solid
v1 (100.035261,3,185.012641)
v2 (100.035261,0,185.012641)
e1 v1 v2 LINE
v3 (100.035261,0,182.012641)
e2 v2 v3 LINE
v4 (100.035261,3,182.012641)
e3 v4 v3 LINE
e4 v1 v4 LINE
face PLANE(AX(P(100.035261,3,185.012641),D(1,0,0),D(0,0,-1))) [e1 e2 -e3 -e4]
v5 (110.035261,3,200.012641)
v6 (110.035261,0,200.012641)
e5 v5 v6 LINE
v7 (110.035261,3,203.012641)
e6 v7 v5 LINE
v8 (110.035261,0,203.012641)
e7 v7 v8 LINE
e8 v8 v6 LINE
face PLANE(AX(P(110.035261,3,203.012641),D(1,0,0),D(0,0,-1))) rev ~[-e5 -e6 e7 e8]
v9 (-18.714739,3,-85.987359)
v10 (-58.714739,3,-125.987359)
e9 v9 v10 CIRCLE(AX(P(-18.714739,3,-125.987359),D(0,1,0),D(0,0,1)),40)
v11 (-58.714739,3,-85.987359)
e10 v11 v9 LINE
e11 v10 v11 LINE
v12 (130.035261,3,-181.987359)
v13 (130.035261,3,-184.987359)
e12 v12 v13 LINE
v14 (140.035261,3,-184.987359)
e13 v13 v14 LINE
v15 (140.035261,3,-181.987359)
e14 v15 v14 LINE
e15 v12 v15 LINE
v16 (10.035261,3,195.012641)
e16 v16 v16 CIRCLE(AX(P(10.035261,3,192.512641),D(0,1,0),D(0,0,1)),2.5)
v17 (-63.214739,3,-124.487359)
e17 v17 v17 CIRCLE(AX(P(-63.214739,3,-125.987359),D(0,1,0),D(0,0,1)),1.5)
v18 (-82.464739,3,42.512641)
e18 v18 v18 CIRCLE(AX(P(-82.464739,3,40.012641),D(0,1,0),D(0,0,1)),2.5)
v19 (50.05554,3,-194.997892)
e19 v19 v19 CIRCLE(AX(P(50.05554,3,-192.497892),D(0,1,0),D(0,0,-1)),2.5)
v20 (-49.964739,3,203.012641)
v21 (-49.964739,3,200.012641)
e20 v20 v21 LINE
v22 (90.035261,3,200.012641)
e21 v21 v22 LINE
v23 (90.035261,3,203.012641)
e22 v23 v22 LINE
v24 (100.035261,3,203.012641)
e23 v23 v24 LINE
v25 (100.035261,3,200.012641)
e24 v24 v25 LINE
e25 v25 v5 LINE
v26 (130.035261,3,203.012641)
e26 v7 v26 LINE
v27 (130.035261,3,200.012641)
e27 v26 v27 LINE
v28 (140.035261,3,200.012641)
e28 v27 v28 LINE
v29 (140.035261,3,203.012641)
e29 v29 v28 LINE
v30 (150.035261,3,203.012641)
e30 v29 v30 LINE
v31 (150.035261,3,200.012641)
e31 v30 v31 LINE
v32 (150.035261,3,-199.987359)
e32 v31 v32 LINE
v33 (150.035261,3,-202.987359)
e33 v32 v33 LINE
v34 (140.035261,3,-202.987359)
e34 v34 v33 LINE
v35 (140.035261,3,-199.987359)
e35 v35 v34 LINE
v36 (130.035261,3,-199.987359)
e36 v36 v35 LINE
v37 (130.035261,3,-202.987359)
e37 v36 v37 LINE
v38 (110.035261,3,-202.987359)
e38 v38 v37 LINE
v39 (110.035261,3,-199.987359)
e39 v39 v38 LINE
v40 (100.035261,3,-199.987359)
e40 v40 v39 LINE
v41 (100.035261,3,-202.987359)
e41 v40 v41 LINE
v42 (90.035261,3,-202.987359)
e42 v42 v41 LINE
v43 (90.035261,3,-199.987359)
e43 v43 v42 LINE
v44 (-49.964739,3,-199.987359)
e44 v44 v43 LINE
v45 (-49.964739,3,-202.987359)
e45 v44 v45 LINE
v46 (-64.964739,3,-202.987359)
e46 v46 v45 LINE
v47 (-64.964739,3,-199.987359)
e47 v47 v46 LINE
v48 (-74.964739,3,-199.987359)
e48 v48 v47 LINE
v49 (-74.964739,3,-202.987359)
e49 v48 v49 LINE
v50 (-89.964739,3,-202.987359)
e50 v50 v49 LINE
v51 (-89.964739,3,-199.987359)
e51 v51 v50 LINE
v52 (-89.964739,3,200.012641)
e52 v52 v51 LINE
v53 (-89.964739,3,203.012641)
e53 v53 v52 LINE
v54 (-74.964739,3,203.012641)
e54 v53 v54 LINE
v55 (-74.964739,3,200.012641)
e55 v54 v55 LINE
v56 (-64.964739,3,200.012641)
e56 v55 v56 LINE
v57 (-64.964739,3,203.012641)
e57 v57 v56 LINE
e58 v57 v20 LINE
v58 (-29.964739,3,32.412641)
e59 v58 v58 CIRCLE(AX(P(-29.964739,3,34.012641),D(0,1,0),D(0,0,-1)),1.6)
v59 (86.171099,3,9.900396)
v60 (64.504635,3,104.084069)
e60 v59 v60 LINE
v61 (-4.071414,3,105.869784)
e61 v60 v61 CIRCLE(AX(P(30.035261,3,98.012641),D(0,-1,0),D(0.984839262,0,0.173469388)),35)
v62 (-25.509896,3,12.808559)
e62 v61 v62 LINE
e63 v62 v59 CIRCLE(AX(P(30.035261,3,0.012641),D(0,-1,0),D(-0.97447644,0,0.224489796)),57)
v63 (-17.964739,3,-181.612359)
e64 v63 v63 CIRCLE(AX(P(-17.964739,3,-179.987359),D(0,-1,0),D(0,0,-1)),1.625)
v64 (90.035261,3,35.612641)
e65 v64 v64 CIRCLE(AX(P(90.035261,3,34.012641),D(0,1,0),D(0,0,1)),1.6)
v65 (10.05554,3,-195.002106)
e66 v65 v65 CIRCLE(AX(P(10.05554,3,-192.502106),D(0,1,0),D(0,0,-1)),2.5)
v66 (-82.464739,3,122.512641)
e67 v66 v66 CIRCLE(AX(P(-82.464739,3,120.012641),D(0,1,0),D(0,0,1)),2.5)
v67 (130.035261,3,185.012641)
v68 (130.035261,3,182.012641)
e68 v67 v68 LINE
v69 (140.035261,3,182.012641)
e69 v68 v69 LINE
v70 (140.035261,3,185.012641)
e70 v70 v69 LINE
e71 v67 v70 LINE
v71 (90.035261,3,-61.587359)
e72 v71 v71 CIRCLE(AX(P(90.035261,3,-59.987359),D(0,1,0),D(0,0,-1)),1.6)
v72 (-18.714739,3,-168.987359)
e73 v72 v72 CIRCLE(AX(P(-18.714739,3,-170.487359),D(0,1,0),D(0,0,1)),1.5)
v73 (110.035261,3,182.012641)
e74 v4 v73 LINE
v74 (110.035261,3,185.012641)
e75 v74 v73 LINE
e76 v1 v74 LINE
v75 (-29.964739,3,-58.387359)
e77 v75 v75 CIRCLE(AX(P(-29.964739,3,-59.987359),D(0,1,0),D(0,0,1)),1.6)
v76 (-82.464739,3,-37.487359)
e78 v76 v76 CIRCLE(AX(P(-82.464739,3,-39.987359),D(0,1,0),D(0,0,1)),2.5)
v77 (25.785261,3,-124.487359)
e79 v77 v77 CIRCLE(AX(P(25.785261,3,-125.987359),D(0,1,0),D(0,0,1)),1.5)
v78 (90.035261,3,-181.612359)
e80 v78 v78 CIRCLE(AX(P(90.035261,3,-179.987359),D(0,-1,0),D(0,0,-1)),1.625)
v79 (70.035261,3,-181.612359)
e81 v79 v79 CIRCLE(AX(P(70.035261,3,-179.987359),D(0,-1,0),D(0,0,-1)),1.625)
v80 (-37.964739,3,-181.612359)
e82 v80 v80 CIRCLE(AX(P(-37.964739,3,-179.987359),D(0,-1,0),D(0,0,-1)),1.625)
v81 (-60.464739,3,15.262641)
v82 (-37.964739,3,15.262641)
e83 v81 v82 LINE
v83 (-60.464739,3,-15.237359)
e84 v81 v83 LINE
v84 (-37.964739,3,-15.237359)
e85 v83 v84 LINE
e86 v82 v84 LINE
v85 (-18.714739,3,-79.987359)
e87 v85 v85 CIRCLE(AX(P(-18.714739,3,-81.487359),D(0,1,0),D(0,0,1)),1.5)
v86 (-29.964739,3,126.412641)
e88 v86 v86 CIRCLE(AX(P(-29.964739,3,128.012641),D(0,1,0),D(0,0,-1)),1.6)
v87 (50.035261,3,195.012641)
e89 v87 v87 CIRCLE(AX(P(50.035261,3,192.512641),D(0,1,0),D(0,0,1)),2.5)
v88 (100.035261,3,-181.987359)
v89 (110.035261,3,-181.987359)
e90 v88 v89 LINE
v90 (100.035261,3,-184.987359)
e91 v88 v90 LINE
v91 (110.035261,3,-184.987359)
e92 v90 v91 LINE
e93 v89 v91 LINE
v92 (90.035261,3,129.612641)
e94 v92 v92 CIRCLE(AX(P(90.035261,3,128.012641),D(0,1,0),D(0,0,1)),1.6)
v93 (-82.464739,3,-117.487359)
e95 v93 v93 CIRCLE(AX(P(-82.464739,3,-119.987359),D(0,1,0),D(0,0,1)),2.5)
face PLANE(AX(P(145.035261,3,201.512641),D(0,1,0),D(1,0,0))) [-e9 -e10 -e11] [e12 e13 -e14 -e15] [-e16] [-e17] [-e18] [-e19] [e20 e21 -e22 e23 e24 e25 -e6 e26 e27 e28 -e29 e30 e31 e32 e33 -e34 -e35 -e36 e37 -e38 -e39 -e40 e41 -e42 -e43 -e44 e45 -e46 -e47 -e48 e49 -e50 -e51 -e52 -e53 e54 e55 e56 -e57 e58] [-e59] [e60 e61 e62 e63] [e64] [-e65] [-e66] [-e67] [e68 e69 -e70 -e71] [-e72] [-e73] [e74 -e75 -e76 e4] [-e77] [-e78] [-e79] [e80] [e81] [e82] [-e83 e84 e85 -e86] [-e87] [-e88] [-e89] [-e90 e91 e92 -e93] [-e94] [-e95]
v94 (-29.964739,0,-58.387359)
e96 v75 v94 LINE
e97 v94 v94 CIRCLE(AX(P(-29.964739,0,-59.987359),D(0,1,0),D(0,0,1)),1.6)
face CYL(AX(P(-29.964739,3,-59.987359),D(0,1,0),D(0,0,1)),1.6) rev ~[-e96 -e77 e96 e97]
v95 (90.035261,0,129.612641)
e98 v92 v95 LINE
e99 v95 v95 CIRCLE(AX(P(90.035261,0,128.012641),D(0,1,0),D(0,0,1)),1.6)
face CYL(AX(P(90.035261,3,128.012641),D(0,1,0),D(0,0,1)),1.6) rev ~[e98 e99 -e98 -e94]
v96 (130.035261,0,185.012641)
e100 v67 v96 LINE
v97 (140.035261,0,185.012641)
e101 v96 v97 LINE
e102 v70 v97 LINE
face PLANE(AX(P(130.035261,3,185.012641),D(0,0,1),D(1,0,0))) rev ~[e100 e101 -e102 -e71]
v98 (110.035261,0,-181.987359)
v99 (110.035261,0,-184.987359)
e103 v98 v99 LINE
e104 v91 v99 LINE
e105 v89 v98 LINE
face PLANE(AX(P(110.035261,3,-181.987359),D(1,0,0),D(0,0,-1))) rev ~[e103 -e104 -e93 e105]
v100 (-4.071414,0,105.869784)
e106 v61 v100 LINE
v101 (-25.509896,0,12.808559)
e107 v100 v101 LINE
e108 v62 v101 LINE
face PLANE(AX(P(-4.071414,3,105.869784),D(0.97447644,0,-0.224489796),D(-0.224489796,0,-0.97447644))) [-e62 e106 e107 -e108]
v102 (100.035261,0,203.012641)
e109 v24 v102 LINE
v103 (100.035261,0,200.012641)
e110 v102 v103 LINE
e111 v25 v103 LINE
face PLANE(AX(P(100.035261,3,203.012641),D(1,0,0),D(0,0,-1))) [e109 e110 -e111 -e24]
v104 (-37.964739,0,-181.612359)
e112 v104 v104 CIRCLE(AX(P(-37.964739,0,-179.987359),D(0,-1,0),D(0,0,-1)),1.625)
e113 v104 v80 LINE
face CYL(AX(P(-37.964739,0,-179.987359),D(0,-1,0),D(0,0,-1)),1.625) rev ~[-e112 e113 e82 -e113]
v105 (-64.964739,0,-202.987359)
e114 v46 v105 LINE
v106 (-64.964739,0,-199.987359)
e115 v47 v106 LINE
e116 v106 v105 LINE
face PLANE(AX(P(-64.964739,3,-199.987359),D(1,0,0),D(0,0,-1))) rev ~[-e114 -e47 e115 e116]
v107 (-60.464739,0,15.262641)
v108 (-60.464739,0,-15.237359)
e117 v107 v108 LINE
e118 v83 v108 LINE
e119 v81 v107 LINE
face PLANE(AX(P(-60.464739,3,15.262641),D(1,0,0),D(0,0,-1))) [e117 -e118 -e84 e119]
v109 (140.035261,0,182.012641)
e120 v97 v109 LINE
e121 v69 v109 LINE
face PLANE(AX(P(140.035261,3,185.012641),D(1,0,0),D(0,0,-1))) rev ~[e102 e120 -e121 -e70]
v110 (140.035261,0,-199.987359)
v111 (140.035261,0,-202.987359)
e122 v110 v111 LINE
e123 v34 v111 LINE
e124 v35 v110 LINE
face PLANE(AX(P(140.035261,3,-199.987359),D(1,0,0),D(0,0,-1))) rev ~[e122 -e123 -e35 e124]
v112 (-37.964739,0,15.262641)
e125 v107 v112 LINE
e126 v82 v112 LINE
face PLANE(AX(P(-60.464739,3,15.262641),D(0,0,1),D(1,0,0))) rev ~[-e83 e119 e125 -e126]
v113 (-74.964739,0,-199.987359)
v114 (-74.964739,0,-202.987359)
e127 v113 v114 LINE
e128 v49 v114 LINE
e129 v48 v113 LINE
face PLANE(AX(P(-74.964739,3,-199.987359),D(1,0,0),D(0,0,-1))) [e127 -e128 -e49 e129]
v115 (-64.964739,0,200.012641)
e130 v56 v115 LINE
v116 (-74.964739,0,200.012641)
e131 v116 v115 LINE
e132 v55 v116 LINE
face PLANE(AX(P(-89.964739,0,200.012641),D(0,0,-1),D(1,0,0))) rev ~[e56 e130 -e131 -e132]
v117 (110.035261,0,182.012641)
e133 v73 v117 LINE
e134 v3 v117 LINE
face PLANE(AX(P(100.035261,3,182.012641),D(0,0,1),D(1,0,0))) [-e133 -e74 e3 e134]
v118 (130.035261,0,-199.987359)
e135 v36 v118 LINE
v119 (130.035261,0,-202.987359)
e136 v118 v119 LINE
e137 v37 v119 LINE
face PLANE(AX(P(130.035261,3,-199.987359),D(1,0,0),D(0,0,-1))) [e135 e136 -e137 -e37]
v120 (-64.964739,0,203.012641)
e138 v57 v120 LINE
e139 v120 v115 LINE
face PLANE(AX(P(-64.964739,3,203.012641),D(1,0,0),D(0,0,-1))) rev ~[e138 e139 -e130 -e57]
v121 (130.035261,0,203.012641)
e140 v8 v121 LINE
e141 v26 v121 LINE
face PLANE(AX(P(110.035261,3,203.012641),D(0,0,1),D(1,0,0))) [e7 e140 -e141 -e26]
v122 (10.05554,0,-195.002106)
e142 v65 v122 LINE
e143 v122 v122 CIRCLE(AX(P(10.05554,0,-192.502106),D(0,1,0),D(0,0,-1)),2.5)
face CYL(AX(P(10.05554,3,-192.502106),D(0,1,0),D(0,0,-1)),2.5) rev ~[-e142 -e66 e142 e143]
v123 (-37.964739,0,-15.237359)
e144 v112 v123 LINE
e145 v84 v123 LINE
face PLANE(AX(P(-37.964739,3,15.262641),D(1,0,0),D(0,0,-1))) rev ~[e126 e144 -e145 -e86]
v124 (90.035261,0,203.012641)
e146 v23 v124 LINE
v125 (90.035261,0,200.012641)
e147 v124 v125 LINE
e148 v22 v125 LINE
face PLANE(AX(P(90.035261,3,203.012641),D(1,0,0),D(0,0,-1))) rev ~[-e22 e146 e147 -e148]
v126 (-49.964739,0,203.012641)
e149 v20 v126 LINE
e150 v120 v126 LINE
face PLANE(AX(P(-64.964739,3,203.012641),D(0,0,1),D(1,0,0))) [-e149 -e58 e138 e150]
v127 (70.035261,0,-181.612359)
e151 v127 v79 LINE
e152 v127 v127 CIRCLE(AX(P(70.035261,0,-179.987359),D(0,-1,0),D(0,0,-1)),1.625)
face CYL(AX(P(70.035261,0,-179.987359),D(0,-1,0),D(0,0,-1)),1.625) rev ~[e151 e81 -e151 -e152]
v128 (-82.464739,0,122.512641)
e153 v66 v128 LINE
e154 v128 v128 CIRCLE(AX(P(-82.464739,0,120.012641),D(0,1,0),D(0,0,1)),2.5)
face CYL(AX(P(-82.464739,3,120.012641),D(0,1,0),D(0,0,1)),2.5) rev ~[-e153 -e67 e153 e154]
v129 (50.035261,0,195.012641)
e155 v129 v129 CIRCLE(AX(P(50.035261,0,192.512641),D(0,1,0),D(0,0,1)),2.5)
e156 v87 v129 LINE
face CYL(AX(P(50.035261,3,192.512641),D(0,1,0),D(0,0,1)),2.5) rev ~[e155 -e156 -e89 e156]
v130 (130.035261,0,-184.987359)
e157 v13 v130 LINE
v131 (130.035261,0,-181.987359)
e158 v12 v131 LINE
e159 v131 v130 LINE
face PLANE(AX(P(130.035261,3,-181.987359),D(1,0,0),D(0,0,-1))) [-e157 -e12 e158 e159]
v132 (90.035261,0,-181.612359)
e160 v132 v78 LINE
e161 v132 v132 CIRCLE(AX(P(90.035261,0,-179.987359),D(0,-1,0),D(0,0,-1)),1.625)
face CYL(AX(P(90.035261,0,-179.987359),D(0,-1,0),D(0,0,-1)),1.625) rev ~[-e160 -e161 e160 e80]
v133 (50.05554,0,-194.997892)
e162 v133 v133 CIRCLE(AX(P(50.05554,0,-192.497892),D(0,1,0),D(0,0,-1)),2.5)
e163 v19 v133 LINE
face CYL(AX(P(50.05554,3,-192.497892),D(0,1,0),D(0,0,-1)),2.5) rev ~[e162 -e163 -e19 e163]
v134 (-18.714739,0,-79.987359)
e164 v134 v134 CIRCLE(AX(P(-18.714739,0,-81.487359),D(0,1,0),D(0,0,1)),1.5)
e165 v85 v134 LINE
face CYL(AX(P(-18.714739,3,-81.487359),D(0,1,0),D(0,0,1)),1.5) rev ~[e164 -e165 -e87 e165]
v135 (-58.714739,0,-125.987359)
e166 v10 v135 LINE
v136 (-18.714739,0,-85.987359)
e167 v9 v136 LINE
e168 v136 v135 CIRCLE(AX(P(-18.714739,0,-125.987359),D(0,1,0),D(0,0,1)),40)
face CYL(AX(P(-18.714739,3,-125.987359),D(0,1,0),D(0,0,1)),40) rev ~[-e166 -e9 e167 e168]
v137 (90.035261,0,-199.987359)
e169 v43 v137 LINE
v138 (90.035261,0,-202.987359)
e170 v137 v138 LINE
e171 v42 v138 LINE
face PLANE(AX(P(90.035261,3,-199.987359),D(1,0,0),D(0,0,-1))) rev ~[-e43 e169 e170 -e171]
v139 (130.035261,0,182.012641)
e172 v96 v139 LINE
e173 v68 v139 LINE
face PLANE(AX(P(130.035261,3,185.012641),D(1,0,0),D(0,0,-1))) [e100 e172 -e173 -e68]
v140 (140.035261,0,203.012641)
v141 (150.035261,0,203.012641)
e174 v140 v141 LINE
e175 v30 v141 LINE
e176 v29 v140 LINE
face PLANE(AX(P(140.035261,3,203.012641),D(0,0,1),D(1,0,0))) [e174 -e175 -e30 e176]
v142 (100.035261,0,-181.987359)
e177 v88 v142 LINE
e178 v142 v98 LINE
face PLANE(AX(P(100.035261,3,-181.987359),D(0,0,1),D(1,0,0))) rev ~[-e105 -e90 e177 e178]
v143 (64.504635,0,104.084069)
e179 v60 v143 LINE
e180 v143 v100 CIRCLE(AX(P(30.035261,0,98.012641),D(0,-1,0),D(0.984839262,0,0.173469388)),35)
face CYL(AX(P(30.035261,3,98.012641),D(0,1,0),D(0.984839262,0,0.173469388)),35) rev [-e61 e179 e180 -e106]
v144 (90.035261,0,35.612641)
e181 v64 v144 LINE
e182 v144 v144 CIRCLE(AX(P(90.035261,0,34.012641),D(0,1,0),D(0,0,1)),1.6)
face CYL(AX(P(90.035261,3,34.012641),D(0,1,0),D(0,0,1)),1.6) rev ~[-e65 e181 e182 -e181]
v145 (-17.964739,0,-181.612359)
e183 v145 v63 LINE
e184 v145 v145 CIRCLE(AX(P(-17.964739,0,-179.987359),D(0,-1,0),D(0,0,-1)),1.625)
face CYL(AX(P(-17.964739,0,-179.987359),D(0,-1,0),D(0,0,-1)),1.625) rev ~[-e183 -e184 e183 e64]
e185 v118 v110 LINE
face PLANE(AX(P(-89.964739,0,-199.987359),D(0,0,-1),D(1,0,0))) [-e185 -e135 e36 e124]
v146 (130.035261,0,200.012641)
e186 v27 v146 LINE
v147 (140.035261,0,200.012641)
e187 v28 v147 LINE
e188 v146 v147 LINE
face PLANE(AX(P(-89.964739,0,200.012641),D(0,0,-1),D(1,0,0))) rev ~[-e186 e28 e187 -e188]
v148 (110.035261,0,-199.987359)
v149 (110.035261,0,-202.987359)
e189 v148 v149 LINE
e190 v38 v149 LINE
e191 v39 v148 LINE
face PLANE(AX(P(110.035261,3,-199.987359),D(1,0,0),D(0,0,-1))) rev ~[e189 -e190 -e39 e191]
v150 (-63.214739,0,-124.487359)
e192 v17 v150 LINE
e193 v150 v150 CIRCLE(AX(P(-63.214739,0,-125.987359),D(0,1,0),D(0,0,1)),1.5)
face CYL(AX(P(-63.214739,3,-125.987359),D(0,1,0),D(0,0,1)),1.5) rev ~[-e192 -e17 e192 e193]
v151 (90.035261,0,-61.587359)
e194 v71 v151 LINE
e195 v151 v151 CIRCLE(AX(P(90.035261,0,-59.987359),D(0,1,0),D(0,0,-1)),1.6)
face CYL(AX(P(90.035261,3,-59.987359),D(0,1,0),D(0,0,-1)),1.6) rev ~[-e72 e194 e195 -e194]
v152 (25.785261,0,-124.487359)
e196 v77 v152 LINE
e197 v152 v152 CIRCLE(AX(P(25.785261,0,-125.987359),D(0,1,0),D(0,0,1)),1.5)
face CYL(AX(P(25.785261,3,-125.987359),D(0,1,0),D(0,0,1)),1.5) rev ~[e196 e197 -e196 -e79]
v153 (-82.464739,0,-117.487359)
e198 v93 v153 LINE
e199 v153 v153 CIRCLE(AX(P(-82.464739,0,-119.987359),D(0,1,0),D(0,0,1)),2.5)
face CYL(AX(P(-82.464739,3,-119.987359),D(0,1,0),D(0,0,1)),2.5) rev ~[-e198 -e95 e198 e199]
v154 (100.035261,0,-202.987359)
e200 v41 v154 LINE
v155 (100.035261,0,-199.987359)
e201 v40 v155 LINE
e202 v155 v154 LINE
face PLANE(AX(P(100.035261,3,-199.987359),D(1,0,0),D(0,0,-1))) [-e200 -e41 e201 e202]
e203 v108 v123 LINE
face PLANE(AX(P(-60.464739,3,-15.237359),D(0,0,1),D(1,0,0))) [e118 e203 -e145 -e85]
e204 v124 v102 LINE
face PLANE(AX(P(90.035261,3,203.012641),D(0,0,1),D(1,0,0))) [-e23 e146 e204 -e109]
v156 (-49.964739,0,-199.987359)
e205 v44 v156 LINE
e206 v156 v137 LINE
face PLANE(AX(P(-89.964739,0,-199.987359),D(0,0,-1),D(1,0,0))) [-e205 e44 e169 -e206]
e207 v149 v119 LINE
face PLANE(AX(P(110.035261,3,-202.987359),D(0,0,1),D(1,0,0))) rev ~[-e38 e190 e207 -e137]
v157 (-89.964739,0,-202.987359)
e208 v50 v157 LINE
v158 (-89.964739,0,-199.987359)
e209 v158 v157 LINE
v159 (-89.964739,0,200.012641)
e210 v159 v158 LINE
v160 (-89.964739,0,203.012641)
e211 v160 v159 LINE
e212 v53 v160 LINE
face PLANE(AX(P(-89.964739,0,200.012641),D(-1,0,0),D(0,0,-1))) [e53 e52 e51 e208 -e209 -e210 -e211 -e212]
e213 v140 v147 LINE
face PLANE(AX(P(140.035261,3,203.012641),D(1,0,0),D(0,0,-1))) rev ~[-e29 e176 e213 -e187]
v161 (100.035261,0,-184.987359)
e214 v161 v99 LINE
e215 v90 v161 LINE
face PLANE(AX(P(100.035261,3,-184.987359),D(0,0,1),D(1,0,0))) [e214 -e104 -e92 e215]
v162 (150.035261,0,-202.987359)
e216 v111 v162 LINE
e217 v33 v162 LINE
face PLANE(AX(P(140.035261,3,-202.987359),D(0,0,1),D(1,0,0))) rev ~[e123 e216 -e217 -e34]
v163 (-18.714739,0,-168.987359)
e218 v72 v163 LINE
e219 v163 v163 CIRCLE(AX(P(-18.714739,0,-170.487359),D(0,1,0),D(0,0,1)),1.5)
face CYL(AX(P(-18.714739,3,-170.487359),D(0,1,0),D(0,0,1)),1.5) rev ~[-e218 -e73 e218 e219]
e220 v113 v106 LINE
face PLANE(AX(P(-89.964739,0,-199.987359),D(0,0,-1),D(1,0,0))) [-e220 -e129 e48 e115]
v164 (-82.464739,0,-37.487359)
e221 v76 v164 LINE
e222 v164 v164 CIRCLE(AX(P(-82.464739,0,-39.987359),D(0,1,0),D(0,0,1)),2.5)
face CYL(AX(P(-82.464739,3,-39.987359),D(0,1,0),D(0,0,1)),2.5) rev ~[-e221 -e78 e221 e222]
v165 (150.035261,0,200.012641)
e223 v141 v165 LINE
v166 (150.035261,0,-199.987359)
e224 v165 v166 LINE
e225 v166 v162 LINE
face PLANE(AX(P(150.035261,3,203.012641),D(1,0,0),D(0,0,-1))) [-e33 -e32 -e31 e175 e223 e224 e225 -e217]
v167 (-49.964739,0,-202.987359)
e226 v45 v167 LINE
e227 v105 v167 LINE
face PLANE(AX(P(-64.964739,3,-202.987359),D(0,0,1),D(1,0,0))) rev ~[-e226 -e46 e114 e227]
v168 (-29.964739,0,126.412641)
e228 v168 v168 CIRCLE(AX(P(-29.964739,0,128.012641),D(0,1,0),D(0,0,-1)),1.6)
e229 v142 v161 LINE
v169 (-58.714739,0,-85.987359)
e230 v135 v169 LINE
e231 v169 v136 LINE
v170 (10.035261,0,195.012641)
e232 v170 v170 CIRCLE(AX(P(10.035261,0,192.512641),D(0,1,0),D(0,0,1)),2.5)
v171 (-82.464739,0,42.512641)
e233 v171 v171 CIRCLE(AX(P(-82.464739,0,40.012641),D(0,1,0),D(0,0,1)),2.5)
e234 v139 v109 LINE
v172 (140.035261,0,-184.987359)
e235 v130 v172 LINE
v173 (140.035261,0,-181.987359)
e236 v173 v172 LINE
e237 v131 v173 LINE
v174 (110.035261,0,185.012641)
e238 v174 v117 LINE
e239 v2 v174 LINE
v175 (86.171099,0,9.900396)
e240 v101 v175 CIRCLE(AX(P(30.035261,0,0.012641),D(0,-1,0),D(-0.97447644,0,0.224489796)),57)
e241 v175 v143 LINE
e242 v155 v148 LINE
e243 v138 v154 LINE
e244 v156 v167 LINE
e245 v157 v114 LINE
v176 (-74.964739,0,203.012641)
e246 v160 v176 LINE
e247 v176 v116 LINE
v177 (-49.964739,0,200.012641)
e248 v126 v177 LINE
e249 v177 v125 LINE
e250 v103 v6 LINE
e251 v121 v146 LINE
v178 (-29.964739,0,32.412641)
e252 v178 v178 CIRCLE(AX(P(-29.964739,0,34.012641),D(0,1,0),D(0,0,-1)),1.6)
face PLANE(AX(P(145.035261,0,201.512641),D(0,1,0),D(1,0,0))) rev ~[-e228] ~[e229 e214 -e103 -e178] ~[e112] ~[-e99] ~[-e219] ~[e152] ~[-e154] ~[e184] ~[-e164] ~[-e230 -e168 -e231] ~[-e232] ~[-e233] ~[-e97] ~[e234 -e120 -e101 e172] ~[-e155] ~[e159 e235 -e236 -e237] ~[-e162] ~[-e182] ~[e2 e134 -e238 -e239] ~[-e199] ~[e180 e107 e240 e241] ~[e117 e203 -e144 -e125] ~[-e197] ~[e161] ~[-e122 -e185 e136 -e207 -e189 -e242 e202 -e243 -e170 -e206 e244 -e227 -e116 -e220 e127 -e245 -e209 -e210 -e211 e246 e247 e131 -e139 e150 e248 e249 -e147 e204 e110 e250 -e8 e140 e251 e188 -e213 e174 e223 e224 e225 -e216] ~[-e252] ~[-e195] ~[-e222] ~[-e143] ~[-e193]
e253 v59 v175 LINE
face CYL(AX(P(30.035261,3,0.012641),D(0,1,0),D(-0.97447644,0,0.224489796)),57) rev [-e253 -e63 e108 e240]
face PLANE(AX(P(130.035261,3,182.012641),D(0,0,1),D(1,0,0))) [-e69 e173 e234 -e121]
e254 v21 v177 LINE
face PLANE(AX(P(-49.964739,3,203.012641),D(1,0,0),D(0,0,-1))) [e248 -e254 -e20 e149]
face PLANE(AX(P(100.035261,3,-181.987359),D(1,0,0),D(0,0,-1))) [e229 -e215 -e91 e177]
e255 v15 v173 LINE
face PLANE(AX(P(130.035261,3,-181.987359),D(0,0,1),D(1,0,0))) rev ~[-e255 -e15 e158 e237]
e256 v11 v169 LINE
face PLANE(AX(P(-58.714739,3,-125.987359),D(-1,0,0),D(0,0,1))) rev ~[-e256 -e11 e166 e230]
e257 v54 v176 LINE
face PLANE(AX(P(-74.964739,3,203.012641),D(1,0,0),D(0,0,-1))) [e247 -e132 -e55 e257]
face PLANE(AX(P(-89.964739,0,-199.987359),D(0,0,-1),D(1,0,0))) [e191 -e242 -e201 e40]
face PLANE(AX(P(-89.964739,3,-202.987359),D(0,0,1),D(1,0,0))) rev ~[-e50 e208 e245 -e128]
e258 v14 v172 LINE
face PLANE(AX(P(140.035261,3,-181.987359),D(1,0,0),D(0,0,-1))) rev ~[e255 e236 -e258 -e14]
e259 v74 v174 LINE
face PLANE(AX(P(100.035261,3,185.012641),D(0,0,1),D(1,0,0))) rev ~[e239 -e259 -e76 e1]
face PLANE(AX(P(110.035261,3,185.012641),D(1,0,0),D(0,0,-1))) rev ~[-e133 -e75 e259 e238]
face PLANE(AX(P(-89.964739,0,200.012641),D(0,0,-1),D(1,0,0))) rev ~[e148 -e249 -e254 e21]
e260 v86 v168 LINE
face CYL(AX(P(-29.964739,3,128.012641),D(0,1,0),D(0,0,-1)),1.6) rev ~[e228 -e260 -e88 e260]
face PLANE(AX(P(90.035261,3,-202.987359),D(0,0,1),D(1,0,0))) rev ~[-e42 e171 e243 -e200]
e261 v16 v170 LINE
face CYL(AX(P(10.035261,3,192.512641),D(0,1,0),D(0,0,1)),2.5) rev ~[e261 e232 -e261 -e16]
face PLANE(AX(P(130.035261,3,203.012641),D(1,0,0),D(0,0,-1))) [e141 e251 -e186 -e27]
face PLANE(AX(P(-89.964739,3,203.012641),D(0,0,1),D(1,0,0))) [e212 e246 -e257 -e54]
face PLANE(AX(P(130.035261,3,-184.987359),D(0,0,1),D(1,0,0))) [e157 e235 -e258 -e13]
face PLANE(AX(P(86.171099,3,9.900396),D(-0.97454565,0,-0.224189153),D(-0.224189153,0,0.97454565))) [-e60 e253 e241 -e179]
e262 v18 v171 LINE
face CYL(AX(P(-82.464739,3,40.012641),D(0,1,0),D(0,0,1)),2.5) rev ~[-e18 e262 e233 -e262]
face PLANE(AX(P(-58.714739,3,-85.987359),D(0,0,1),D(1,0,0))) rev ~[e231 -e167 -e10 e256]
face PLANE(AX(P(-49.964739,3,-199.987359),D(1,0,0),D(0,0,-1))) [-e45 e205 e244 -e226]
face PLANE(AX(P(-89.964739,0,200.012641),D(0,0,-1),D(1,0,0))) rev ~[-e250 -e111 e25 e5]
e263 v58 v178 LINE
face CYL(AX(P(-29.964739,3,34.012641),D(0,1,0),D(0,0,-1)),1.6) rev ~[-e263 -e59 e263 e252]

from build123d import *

# Parameters (mm, degrees)
SKETCH_1_W           = 240
SKETCH_1_H           = 400
EXTRUDE_1_DEPTH      = 3
SKETCH_9_W           = 10
SKETCH_9_H           = 3
SKETCH_9_W_2         = 20
SKETCH_9_W_3         = 15
EXTRUDE_2_DEPTH      = 3
SKETCH_13_W          = 10
SKETCH_13_H          = 3
CUT_EXTRUDE_1_DEPTH  = 3
SKETCH_12_R          = 2.5
CUT_EXTRUDE_2_DEPTH  = 3
SKETCH_10_R          = 2.5
CUT_EXTRUDE_3_DEPTH  = 3
SKETCH_14_R          = 1.6
CUT_EXTRUDE_4_DEPTH  = 3
SKETCH_23_R          = 1.5
CUT_EXTRUDE_11_DEPTH = 10
SKETCH_21_W          = 22.5
SKETCH_21_H          = 30.5
CUT_EXTRUDE_12_DEPTH = 10
SKETCH_24_R          = 1.625
CUT_EXTRUDE_13_DEPTH = 10


with BuildPart() as part:
    # 草图1 → 凸台-拉伸1 (new body)
    with BuildSketch(Plane(origin=(46.742818835, 0, -86.416508262), x_dir=(1, 0, 0), z_dir=(0, 1, 0))):
        with Locations((-16.707557602, -86.429149101)):
            Rectangle(SKETCH_1_W, SKETCH_1_H)
    extrude(amount=EXTRUDE_1_DEPTH)

    # 草图9 → 凸台-拉伸2 (add)
    with BuildSketch(Plane(origin=(0, 3, 0), x_dir=(1, 0, 0), z_dir=(0, 1, 0))):
        with Locations((145.035261234, -201.512640839)):
            Rectangle(SKETCH_9_W, SKETCH_9_H)
        with Locations((120.035261234, -201.512640839)):
            Rectangle(SKETCH_9_W_2, SKETCH_9_H)
        with Locations((95.035261234, -201.512640839)):
            Rectangle(SKETCH_9_W, SKETCH_9_H)
        with Locations((145.035261234, 201.487359161)):
            Rectangle(SKETCH_9_W, SKETCH_9_H)
        with Locations((120.035261234, 201.487359161)):
            Rectangle(SKETCH_9_W_2, SKETCH_9_H)
        with Locations((95.035261234, 201.487359161)):
            Rectangle(SKETCH_9_W, SKETCH_9_H)
        with Locations((-57.464738766, 201.487359161)):
            Rectangle(SKETCH_9_W_3, SKETCH_9_H)
        with Locations((-82.464738766, -201.512640839)):
            Rectangle(SKETCH_9_W_3, SKETCH_9_H)
        with Locations((-57.464738766, -201.512640839)):
            Rectangle(SKETCH_9_W_3, SKETCH_9_H)
        with Locations((-82.464738766, 201.487359161)):
            Rectangle(SKETCH_9_W_3, SKETCH_9_H)
    extrude(amount=-EXTRUDE_2_DEPTH)

    # 草图13 → 切除-拉伸1 (cut)
    with BuildSketch(Plane(origin=(0, 3, 0), x_dir=(1, 0, 0), z_dir=(0, 1, 0))):
        with Locations((135.035261234, -183.512640839)):
            Rectangle(SKETCH_13_W, SKETCH_13_H)
        with Locations((105.035261234, -183.512640839)):
            Rectangle(SKETCH_13_W, SKETCH_13_H)
        with Locations((135.035261234, 183.487359161)):
            Rectangle(SKETCH_13_W, SKETCH_13_H)
        with Locations((105.035261234, 183.487359161)):
            Rectangle(SKETCH_13_W, SKETCH_13_H)
    extrude(amount=-CUT_EXTRUDE_1_DEPTH, mode=Mode.SUBTRACT)

    # 草图12 → 切除-拉伸2 (cut)
    with BuildSketch(Plane(origin=(0, 3, 0), x_dir=(1, 0, 0), z_dir=(0, 1, 0))):
        with Locations(Location((-82.464738766, -120.012640839, 0), (0, 0, 270))):
            Circle(SKETCH_12_R)
        with Locations(Location((-82.464738766, -40.012640839, 0), (0, 0, 270))):
            Circle(SKETCH_12_R)
        with Locations(Location((-82.464738766, 119.987359161, 0), (0, 0, 270))):
            Circle(SKETCH_12_R)
        with Locations(Location((-82.464738766, 39.987359161, 0), (0, 0, 270))):
            Circle(SKETCH_12_R)
    extrude(amount=-CUT_EXTRUDE_2_DEPTH, mode=Mode.SUBTRACT)

    # 草图10 → 切除-拉伸3 (cut)
    with BuildSketch(Plane(origin=(0, 3, 0), x_dir=(1, 0, 0), z_dir=(0, 1, 0))):
        with Locations(Location((50.035261234, -192.512640839, 0), (0, 0, 270))):
            Circle(SKETCH_10_R)
        with Locations(Location((10.035261234, -192.512640839, 0), (0, 0, 270))):
            Circle(SKETCH_10_R)
        with Locations(Location((50.055539801, 192.497892125, 0), (0, 0, 90))):
            Circle(SKETCH_10_R)
        with Locations(Location((10.055540023, 192.502105738, 0), (0, 0, 90))):
            Circle(SKETCH_10_R)
    extrude(amount=-CUT_EXTRUDE_3_DEPTH, mode=Mode.SUBTRACT)

    # 草图14 → 切除-拉伸4 (cut)
    with BuildSketch(Plane(origin=(0, 3, 0), x_dir=(1, 0, 0), z_dir=(0, 1, 0))):
        with Locations(Location((90.035261234, -34.012640839, 0), (0, 0, 270))):
            Circle(SKETCH_14_R)
        with Locations(Location((-29.964738766, -34.012640839, 0), (0, 0, 90))):
            Circle(SKETCH_14_R)
        with Locations(Location((90.035261234, -128.012640839, 0), (0, 0, 270))):
            Circle(SKETCH_14_R)
        with Locations(Location((-29.964738766, -128.012640839, 0), (0, 0, 90))):
            Circle(SKETCH_14_R)
        with Locations(Location((-29.964738766, 59.987359161, 0), (0, 0, 270))):
            Circle(SKETCH_14_R)
        with Locations(Location((90.035261234, 59.987359161, 0), (0, 0, 90))):
            Circle(SKETCH_14_R)
        with BuildLine():
            Line((-4.071414156, -105.869783696), (-25.509895829, -12.808559206))
            ThreePointArc((-25.509895829, -12.808559206), (28.551489229, 56.968043789), (86.171099154, -9.900395941))
            Line((86.171099154, -9.900395941), (64.504635396, -104.08406941))
            ThreePointArc((64.504635396, -104.08406941), (30.946349307, -133.000780522), (-4.071414156, -105.869783696))
        make_face()
    extrude(amount=-CUT_EXTRUDE_4_DEPTH, mode=Mode.SUBTRACT)

    # 草图23 → 切除-拉伸11 (cut)
    with BuildSketch(Plane(origin=(0, 3, 0), x_dir=(1, 0, 0), z_dir=(0, 1, 0))):
        with Locations(Location((-18.714738766, 170.487359161, 0), (0, 0, 270))):
            Circle(SKETCH_23_R)
        with Locations(Location((25.785261234, 125.987359161, 0), (0, 0, 270))):
            Circle(SKETCH_23_R)
        with Locations(Location((-18.714738766, 81.487359161, 0), (0, 0, 270))):
            Circle(SKETCH_23_R)
        with Locations(Location((-63.214738766, 125.987359161, 0), (0, 0, 270))):
            Circle(SKETCH_23_R)
        with BuildLine():
            Line((-58.714738766, 125.987359161), (-58.714738766, 85.987359161))
            Line((-58.714738766, 85.987359161), (-18.714738766, 85.987359161))
            ThreePointArc((-18.714738766, 85.987359161), (9.569532481, 154.271630409), (-58.714738766, 125.987359161))
        make_face()
    extrude(amount=-CUT_EXTRUDE_11_DEPTH, mode=Mode.SUBTRACT)

    # 草图21 → 切除-拉伸12 (cut)
    with BuildSketch(Plane(origin=(0, 3, 0), x_dir=(1, 0, 0), z_dir=(0, 1, 0))):
        with Locations((-49.214738766, -0.012640839)):
            Rectangle(SKETCH_21_W, SKETCH_21_H)
    extrude(amount=-CUT_EXTRUDE_12_DEPTH, mode=Mode.SUBTRACT)

    # 草图24 → 切除-拉伸13 (cut)
    with BuildSketch(Plane.XZ):
        with Locations(Location((-37.964738766, -179.987359161, 0), (0, 0, 270))):
            Circle(SKETCH_24_R)
        with Locations(Location((-17.964738766, -179.987359161, 0), (0, 0, 270))):
            Circle(SKETCH_24_R)
        with Locations(Location((90.035261234, -179.987359161, 0), (0, 0, 270))):
            Circle(SKETCH_24_R)
        with Locations(Location((70.035261234, -179.987359161, 0), (0, 0, 270))):
            Circle(SKETCH_24_R)
    extrude(amount=-CUT_EXTRUDE_13_DEPTH, mode=Mode.SUBTRACT)


solid = part.part
